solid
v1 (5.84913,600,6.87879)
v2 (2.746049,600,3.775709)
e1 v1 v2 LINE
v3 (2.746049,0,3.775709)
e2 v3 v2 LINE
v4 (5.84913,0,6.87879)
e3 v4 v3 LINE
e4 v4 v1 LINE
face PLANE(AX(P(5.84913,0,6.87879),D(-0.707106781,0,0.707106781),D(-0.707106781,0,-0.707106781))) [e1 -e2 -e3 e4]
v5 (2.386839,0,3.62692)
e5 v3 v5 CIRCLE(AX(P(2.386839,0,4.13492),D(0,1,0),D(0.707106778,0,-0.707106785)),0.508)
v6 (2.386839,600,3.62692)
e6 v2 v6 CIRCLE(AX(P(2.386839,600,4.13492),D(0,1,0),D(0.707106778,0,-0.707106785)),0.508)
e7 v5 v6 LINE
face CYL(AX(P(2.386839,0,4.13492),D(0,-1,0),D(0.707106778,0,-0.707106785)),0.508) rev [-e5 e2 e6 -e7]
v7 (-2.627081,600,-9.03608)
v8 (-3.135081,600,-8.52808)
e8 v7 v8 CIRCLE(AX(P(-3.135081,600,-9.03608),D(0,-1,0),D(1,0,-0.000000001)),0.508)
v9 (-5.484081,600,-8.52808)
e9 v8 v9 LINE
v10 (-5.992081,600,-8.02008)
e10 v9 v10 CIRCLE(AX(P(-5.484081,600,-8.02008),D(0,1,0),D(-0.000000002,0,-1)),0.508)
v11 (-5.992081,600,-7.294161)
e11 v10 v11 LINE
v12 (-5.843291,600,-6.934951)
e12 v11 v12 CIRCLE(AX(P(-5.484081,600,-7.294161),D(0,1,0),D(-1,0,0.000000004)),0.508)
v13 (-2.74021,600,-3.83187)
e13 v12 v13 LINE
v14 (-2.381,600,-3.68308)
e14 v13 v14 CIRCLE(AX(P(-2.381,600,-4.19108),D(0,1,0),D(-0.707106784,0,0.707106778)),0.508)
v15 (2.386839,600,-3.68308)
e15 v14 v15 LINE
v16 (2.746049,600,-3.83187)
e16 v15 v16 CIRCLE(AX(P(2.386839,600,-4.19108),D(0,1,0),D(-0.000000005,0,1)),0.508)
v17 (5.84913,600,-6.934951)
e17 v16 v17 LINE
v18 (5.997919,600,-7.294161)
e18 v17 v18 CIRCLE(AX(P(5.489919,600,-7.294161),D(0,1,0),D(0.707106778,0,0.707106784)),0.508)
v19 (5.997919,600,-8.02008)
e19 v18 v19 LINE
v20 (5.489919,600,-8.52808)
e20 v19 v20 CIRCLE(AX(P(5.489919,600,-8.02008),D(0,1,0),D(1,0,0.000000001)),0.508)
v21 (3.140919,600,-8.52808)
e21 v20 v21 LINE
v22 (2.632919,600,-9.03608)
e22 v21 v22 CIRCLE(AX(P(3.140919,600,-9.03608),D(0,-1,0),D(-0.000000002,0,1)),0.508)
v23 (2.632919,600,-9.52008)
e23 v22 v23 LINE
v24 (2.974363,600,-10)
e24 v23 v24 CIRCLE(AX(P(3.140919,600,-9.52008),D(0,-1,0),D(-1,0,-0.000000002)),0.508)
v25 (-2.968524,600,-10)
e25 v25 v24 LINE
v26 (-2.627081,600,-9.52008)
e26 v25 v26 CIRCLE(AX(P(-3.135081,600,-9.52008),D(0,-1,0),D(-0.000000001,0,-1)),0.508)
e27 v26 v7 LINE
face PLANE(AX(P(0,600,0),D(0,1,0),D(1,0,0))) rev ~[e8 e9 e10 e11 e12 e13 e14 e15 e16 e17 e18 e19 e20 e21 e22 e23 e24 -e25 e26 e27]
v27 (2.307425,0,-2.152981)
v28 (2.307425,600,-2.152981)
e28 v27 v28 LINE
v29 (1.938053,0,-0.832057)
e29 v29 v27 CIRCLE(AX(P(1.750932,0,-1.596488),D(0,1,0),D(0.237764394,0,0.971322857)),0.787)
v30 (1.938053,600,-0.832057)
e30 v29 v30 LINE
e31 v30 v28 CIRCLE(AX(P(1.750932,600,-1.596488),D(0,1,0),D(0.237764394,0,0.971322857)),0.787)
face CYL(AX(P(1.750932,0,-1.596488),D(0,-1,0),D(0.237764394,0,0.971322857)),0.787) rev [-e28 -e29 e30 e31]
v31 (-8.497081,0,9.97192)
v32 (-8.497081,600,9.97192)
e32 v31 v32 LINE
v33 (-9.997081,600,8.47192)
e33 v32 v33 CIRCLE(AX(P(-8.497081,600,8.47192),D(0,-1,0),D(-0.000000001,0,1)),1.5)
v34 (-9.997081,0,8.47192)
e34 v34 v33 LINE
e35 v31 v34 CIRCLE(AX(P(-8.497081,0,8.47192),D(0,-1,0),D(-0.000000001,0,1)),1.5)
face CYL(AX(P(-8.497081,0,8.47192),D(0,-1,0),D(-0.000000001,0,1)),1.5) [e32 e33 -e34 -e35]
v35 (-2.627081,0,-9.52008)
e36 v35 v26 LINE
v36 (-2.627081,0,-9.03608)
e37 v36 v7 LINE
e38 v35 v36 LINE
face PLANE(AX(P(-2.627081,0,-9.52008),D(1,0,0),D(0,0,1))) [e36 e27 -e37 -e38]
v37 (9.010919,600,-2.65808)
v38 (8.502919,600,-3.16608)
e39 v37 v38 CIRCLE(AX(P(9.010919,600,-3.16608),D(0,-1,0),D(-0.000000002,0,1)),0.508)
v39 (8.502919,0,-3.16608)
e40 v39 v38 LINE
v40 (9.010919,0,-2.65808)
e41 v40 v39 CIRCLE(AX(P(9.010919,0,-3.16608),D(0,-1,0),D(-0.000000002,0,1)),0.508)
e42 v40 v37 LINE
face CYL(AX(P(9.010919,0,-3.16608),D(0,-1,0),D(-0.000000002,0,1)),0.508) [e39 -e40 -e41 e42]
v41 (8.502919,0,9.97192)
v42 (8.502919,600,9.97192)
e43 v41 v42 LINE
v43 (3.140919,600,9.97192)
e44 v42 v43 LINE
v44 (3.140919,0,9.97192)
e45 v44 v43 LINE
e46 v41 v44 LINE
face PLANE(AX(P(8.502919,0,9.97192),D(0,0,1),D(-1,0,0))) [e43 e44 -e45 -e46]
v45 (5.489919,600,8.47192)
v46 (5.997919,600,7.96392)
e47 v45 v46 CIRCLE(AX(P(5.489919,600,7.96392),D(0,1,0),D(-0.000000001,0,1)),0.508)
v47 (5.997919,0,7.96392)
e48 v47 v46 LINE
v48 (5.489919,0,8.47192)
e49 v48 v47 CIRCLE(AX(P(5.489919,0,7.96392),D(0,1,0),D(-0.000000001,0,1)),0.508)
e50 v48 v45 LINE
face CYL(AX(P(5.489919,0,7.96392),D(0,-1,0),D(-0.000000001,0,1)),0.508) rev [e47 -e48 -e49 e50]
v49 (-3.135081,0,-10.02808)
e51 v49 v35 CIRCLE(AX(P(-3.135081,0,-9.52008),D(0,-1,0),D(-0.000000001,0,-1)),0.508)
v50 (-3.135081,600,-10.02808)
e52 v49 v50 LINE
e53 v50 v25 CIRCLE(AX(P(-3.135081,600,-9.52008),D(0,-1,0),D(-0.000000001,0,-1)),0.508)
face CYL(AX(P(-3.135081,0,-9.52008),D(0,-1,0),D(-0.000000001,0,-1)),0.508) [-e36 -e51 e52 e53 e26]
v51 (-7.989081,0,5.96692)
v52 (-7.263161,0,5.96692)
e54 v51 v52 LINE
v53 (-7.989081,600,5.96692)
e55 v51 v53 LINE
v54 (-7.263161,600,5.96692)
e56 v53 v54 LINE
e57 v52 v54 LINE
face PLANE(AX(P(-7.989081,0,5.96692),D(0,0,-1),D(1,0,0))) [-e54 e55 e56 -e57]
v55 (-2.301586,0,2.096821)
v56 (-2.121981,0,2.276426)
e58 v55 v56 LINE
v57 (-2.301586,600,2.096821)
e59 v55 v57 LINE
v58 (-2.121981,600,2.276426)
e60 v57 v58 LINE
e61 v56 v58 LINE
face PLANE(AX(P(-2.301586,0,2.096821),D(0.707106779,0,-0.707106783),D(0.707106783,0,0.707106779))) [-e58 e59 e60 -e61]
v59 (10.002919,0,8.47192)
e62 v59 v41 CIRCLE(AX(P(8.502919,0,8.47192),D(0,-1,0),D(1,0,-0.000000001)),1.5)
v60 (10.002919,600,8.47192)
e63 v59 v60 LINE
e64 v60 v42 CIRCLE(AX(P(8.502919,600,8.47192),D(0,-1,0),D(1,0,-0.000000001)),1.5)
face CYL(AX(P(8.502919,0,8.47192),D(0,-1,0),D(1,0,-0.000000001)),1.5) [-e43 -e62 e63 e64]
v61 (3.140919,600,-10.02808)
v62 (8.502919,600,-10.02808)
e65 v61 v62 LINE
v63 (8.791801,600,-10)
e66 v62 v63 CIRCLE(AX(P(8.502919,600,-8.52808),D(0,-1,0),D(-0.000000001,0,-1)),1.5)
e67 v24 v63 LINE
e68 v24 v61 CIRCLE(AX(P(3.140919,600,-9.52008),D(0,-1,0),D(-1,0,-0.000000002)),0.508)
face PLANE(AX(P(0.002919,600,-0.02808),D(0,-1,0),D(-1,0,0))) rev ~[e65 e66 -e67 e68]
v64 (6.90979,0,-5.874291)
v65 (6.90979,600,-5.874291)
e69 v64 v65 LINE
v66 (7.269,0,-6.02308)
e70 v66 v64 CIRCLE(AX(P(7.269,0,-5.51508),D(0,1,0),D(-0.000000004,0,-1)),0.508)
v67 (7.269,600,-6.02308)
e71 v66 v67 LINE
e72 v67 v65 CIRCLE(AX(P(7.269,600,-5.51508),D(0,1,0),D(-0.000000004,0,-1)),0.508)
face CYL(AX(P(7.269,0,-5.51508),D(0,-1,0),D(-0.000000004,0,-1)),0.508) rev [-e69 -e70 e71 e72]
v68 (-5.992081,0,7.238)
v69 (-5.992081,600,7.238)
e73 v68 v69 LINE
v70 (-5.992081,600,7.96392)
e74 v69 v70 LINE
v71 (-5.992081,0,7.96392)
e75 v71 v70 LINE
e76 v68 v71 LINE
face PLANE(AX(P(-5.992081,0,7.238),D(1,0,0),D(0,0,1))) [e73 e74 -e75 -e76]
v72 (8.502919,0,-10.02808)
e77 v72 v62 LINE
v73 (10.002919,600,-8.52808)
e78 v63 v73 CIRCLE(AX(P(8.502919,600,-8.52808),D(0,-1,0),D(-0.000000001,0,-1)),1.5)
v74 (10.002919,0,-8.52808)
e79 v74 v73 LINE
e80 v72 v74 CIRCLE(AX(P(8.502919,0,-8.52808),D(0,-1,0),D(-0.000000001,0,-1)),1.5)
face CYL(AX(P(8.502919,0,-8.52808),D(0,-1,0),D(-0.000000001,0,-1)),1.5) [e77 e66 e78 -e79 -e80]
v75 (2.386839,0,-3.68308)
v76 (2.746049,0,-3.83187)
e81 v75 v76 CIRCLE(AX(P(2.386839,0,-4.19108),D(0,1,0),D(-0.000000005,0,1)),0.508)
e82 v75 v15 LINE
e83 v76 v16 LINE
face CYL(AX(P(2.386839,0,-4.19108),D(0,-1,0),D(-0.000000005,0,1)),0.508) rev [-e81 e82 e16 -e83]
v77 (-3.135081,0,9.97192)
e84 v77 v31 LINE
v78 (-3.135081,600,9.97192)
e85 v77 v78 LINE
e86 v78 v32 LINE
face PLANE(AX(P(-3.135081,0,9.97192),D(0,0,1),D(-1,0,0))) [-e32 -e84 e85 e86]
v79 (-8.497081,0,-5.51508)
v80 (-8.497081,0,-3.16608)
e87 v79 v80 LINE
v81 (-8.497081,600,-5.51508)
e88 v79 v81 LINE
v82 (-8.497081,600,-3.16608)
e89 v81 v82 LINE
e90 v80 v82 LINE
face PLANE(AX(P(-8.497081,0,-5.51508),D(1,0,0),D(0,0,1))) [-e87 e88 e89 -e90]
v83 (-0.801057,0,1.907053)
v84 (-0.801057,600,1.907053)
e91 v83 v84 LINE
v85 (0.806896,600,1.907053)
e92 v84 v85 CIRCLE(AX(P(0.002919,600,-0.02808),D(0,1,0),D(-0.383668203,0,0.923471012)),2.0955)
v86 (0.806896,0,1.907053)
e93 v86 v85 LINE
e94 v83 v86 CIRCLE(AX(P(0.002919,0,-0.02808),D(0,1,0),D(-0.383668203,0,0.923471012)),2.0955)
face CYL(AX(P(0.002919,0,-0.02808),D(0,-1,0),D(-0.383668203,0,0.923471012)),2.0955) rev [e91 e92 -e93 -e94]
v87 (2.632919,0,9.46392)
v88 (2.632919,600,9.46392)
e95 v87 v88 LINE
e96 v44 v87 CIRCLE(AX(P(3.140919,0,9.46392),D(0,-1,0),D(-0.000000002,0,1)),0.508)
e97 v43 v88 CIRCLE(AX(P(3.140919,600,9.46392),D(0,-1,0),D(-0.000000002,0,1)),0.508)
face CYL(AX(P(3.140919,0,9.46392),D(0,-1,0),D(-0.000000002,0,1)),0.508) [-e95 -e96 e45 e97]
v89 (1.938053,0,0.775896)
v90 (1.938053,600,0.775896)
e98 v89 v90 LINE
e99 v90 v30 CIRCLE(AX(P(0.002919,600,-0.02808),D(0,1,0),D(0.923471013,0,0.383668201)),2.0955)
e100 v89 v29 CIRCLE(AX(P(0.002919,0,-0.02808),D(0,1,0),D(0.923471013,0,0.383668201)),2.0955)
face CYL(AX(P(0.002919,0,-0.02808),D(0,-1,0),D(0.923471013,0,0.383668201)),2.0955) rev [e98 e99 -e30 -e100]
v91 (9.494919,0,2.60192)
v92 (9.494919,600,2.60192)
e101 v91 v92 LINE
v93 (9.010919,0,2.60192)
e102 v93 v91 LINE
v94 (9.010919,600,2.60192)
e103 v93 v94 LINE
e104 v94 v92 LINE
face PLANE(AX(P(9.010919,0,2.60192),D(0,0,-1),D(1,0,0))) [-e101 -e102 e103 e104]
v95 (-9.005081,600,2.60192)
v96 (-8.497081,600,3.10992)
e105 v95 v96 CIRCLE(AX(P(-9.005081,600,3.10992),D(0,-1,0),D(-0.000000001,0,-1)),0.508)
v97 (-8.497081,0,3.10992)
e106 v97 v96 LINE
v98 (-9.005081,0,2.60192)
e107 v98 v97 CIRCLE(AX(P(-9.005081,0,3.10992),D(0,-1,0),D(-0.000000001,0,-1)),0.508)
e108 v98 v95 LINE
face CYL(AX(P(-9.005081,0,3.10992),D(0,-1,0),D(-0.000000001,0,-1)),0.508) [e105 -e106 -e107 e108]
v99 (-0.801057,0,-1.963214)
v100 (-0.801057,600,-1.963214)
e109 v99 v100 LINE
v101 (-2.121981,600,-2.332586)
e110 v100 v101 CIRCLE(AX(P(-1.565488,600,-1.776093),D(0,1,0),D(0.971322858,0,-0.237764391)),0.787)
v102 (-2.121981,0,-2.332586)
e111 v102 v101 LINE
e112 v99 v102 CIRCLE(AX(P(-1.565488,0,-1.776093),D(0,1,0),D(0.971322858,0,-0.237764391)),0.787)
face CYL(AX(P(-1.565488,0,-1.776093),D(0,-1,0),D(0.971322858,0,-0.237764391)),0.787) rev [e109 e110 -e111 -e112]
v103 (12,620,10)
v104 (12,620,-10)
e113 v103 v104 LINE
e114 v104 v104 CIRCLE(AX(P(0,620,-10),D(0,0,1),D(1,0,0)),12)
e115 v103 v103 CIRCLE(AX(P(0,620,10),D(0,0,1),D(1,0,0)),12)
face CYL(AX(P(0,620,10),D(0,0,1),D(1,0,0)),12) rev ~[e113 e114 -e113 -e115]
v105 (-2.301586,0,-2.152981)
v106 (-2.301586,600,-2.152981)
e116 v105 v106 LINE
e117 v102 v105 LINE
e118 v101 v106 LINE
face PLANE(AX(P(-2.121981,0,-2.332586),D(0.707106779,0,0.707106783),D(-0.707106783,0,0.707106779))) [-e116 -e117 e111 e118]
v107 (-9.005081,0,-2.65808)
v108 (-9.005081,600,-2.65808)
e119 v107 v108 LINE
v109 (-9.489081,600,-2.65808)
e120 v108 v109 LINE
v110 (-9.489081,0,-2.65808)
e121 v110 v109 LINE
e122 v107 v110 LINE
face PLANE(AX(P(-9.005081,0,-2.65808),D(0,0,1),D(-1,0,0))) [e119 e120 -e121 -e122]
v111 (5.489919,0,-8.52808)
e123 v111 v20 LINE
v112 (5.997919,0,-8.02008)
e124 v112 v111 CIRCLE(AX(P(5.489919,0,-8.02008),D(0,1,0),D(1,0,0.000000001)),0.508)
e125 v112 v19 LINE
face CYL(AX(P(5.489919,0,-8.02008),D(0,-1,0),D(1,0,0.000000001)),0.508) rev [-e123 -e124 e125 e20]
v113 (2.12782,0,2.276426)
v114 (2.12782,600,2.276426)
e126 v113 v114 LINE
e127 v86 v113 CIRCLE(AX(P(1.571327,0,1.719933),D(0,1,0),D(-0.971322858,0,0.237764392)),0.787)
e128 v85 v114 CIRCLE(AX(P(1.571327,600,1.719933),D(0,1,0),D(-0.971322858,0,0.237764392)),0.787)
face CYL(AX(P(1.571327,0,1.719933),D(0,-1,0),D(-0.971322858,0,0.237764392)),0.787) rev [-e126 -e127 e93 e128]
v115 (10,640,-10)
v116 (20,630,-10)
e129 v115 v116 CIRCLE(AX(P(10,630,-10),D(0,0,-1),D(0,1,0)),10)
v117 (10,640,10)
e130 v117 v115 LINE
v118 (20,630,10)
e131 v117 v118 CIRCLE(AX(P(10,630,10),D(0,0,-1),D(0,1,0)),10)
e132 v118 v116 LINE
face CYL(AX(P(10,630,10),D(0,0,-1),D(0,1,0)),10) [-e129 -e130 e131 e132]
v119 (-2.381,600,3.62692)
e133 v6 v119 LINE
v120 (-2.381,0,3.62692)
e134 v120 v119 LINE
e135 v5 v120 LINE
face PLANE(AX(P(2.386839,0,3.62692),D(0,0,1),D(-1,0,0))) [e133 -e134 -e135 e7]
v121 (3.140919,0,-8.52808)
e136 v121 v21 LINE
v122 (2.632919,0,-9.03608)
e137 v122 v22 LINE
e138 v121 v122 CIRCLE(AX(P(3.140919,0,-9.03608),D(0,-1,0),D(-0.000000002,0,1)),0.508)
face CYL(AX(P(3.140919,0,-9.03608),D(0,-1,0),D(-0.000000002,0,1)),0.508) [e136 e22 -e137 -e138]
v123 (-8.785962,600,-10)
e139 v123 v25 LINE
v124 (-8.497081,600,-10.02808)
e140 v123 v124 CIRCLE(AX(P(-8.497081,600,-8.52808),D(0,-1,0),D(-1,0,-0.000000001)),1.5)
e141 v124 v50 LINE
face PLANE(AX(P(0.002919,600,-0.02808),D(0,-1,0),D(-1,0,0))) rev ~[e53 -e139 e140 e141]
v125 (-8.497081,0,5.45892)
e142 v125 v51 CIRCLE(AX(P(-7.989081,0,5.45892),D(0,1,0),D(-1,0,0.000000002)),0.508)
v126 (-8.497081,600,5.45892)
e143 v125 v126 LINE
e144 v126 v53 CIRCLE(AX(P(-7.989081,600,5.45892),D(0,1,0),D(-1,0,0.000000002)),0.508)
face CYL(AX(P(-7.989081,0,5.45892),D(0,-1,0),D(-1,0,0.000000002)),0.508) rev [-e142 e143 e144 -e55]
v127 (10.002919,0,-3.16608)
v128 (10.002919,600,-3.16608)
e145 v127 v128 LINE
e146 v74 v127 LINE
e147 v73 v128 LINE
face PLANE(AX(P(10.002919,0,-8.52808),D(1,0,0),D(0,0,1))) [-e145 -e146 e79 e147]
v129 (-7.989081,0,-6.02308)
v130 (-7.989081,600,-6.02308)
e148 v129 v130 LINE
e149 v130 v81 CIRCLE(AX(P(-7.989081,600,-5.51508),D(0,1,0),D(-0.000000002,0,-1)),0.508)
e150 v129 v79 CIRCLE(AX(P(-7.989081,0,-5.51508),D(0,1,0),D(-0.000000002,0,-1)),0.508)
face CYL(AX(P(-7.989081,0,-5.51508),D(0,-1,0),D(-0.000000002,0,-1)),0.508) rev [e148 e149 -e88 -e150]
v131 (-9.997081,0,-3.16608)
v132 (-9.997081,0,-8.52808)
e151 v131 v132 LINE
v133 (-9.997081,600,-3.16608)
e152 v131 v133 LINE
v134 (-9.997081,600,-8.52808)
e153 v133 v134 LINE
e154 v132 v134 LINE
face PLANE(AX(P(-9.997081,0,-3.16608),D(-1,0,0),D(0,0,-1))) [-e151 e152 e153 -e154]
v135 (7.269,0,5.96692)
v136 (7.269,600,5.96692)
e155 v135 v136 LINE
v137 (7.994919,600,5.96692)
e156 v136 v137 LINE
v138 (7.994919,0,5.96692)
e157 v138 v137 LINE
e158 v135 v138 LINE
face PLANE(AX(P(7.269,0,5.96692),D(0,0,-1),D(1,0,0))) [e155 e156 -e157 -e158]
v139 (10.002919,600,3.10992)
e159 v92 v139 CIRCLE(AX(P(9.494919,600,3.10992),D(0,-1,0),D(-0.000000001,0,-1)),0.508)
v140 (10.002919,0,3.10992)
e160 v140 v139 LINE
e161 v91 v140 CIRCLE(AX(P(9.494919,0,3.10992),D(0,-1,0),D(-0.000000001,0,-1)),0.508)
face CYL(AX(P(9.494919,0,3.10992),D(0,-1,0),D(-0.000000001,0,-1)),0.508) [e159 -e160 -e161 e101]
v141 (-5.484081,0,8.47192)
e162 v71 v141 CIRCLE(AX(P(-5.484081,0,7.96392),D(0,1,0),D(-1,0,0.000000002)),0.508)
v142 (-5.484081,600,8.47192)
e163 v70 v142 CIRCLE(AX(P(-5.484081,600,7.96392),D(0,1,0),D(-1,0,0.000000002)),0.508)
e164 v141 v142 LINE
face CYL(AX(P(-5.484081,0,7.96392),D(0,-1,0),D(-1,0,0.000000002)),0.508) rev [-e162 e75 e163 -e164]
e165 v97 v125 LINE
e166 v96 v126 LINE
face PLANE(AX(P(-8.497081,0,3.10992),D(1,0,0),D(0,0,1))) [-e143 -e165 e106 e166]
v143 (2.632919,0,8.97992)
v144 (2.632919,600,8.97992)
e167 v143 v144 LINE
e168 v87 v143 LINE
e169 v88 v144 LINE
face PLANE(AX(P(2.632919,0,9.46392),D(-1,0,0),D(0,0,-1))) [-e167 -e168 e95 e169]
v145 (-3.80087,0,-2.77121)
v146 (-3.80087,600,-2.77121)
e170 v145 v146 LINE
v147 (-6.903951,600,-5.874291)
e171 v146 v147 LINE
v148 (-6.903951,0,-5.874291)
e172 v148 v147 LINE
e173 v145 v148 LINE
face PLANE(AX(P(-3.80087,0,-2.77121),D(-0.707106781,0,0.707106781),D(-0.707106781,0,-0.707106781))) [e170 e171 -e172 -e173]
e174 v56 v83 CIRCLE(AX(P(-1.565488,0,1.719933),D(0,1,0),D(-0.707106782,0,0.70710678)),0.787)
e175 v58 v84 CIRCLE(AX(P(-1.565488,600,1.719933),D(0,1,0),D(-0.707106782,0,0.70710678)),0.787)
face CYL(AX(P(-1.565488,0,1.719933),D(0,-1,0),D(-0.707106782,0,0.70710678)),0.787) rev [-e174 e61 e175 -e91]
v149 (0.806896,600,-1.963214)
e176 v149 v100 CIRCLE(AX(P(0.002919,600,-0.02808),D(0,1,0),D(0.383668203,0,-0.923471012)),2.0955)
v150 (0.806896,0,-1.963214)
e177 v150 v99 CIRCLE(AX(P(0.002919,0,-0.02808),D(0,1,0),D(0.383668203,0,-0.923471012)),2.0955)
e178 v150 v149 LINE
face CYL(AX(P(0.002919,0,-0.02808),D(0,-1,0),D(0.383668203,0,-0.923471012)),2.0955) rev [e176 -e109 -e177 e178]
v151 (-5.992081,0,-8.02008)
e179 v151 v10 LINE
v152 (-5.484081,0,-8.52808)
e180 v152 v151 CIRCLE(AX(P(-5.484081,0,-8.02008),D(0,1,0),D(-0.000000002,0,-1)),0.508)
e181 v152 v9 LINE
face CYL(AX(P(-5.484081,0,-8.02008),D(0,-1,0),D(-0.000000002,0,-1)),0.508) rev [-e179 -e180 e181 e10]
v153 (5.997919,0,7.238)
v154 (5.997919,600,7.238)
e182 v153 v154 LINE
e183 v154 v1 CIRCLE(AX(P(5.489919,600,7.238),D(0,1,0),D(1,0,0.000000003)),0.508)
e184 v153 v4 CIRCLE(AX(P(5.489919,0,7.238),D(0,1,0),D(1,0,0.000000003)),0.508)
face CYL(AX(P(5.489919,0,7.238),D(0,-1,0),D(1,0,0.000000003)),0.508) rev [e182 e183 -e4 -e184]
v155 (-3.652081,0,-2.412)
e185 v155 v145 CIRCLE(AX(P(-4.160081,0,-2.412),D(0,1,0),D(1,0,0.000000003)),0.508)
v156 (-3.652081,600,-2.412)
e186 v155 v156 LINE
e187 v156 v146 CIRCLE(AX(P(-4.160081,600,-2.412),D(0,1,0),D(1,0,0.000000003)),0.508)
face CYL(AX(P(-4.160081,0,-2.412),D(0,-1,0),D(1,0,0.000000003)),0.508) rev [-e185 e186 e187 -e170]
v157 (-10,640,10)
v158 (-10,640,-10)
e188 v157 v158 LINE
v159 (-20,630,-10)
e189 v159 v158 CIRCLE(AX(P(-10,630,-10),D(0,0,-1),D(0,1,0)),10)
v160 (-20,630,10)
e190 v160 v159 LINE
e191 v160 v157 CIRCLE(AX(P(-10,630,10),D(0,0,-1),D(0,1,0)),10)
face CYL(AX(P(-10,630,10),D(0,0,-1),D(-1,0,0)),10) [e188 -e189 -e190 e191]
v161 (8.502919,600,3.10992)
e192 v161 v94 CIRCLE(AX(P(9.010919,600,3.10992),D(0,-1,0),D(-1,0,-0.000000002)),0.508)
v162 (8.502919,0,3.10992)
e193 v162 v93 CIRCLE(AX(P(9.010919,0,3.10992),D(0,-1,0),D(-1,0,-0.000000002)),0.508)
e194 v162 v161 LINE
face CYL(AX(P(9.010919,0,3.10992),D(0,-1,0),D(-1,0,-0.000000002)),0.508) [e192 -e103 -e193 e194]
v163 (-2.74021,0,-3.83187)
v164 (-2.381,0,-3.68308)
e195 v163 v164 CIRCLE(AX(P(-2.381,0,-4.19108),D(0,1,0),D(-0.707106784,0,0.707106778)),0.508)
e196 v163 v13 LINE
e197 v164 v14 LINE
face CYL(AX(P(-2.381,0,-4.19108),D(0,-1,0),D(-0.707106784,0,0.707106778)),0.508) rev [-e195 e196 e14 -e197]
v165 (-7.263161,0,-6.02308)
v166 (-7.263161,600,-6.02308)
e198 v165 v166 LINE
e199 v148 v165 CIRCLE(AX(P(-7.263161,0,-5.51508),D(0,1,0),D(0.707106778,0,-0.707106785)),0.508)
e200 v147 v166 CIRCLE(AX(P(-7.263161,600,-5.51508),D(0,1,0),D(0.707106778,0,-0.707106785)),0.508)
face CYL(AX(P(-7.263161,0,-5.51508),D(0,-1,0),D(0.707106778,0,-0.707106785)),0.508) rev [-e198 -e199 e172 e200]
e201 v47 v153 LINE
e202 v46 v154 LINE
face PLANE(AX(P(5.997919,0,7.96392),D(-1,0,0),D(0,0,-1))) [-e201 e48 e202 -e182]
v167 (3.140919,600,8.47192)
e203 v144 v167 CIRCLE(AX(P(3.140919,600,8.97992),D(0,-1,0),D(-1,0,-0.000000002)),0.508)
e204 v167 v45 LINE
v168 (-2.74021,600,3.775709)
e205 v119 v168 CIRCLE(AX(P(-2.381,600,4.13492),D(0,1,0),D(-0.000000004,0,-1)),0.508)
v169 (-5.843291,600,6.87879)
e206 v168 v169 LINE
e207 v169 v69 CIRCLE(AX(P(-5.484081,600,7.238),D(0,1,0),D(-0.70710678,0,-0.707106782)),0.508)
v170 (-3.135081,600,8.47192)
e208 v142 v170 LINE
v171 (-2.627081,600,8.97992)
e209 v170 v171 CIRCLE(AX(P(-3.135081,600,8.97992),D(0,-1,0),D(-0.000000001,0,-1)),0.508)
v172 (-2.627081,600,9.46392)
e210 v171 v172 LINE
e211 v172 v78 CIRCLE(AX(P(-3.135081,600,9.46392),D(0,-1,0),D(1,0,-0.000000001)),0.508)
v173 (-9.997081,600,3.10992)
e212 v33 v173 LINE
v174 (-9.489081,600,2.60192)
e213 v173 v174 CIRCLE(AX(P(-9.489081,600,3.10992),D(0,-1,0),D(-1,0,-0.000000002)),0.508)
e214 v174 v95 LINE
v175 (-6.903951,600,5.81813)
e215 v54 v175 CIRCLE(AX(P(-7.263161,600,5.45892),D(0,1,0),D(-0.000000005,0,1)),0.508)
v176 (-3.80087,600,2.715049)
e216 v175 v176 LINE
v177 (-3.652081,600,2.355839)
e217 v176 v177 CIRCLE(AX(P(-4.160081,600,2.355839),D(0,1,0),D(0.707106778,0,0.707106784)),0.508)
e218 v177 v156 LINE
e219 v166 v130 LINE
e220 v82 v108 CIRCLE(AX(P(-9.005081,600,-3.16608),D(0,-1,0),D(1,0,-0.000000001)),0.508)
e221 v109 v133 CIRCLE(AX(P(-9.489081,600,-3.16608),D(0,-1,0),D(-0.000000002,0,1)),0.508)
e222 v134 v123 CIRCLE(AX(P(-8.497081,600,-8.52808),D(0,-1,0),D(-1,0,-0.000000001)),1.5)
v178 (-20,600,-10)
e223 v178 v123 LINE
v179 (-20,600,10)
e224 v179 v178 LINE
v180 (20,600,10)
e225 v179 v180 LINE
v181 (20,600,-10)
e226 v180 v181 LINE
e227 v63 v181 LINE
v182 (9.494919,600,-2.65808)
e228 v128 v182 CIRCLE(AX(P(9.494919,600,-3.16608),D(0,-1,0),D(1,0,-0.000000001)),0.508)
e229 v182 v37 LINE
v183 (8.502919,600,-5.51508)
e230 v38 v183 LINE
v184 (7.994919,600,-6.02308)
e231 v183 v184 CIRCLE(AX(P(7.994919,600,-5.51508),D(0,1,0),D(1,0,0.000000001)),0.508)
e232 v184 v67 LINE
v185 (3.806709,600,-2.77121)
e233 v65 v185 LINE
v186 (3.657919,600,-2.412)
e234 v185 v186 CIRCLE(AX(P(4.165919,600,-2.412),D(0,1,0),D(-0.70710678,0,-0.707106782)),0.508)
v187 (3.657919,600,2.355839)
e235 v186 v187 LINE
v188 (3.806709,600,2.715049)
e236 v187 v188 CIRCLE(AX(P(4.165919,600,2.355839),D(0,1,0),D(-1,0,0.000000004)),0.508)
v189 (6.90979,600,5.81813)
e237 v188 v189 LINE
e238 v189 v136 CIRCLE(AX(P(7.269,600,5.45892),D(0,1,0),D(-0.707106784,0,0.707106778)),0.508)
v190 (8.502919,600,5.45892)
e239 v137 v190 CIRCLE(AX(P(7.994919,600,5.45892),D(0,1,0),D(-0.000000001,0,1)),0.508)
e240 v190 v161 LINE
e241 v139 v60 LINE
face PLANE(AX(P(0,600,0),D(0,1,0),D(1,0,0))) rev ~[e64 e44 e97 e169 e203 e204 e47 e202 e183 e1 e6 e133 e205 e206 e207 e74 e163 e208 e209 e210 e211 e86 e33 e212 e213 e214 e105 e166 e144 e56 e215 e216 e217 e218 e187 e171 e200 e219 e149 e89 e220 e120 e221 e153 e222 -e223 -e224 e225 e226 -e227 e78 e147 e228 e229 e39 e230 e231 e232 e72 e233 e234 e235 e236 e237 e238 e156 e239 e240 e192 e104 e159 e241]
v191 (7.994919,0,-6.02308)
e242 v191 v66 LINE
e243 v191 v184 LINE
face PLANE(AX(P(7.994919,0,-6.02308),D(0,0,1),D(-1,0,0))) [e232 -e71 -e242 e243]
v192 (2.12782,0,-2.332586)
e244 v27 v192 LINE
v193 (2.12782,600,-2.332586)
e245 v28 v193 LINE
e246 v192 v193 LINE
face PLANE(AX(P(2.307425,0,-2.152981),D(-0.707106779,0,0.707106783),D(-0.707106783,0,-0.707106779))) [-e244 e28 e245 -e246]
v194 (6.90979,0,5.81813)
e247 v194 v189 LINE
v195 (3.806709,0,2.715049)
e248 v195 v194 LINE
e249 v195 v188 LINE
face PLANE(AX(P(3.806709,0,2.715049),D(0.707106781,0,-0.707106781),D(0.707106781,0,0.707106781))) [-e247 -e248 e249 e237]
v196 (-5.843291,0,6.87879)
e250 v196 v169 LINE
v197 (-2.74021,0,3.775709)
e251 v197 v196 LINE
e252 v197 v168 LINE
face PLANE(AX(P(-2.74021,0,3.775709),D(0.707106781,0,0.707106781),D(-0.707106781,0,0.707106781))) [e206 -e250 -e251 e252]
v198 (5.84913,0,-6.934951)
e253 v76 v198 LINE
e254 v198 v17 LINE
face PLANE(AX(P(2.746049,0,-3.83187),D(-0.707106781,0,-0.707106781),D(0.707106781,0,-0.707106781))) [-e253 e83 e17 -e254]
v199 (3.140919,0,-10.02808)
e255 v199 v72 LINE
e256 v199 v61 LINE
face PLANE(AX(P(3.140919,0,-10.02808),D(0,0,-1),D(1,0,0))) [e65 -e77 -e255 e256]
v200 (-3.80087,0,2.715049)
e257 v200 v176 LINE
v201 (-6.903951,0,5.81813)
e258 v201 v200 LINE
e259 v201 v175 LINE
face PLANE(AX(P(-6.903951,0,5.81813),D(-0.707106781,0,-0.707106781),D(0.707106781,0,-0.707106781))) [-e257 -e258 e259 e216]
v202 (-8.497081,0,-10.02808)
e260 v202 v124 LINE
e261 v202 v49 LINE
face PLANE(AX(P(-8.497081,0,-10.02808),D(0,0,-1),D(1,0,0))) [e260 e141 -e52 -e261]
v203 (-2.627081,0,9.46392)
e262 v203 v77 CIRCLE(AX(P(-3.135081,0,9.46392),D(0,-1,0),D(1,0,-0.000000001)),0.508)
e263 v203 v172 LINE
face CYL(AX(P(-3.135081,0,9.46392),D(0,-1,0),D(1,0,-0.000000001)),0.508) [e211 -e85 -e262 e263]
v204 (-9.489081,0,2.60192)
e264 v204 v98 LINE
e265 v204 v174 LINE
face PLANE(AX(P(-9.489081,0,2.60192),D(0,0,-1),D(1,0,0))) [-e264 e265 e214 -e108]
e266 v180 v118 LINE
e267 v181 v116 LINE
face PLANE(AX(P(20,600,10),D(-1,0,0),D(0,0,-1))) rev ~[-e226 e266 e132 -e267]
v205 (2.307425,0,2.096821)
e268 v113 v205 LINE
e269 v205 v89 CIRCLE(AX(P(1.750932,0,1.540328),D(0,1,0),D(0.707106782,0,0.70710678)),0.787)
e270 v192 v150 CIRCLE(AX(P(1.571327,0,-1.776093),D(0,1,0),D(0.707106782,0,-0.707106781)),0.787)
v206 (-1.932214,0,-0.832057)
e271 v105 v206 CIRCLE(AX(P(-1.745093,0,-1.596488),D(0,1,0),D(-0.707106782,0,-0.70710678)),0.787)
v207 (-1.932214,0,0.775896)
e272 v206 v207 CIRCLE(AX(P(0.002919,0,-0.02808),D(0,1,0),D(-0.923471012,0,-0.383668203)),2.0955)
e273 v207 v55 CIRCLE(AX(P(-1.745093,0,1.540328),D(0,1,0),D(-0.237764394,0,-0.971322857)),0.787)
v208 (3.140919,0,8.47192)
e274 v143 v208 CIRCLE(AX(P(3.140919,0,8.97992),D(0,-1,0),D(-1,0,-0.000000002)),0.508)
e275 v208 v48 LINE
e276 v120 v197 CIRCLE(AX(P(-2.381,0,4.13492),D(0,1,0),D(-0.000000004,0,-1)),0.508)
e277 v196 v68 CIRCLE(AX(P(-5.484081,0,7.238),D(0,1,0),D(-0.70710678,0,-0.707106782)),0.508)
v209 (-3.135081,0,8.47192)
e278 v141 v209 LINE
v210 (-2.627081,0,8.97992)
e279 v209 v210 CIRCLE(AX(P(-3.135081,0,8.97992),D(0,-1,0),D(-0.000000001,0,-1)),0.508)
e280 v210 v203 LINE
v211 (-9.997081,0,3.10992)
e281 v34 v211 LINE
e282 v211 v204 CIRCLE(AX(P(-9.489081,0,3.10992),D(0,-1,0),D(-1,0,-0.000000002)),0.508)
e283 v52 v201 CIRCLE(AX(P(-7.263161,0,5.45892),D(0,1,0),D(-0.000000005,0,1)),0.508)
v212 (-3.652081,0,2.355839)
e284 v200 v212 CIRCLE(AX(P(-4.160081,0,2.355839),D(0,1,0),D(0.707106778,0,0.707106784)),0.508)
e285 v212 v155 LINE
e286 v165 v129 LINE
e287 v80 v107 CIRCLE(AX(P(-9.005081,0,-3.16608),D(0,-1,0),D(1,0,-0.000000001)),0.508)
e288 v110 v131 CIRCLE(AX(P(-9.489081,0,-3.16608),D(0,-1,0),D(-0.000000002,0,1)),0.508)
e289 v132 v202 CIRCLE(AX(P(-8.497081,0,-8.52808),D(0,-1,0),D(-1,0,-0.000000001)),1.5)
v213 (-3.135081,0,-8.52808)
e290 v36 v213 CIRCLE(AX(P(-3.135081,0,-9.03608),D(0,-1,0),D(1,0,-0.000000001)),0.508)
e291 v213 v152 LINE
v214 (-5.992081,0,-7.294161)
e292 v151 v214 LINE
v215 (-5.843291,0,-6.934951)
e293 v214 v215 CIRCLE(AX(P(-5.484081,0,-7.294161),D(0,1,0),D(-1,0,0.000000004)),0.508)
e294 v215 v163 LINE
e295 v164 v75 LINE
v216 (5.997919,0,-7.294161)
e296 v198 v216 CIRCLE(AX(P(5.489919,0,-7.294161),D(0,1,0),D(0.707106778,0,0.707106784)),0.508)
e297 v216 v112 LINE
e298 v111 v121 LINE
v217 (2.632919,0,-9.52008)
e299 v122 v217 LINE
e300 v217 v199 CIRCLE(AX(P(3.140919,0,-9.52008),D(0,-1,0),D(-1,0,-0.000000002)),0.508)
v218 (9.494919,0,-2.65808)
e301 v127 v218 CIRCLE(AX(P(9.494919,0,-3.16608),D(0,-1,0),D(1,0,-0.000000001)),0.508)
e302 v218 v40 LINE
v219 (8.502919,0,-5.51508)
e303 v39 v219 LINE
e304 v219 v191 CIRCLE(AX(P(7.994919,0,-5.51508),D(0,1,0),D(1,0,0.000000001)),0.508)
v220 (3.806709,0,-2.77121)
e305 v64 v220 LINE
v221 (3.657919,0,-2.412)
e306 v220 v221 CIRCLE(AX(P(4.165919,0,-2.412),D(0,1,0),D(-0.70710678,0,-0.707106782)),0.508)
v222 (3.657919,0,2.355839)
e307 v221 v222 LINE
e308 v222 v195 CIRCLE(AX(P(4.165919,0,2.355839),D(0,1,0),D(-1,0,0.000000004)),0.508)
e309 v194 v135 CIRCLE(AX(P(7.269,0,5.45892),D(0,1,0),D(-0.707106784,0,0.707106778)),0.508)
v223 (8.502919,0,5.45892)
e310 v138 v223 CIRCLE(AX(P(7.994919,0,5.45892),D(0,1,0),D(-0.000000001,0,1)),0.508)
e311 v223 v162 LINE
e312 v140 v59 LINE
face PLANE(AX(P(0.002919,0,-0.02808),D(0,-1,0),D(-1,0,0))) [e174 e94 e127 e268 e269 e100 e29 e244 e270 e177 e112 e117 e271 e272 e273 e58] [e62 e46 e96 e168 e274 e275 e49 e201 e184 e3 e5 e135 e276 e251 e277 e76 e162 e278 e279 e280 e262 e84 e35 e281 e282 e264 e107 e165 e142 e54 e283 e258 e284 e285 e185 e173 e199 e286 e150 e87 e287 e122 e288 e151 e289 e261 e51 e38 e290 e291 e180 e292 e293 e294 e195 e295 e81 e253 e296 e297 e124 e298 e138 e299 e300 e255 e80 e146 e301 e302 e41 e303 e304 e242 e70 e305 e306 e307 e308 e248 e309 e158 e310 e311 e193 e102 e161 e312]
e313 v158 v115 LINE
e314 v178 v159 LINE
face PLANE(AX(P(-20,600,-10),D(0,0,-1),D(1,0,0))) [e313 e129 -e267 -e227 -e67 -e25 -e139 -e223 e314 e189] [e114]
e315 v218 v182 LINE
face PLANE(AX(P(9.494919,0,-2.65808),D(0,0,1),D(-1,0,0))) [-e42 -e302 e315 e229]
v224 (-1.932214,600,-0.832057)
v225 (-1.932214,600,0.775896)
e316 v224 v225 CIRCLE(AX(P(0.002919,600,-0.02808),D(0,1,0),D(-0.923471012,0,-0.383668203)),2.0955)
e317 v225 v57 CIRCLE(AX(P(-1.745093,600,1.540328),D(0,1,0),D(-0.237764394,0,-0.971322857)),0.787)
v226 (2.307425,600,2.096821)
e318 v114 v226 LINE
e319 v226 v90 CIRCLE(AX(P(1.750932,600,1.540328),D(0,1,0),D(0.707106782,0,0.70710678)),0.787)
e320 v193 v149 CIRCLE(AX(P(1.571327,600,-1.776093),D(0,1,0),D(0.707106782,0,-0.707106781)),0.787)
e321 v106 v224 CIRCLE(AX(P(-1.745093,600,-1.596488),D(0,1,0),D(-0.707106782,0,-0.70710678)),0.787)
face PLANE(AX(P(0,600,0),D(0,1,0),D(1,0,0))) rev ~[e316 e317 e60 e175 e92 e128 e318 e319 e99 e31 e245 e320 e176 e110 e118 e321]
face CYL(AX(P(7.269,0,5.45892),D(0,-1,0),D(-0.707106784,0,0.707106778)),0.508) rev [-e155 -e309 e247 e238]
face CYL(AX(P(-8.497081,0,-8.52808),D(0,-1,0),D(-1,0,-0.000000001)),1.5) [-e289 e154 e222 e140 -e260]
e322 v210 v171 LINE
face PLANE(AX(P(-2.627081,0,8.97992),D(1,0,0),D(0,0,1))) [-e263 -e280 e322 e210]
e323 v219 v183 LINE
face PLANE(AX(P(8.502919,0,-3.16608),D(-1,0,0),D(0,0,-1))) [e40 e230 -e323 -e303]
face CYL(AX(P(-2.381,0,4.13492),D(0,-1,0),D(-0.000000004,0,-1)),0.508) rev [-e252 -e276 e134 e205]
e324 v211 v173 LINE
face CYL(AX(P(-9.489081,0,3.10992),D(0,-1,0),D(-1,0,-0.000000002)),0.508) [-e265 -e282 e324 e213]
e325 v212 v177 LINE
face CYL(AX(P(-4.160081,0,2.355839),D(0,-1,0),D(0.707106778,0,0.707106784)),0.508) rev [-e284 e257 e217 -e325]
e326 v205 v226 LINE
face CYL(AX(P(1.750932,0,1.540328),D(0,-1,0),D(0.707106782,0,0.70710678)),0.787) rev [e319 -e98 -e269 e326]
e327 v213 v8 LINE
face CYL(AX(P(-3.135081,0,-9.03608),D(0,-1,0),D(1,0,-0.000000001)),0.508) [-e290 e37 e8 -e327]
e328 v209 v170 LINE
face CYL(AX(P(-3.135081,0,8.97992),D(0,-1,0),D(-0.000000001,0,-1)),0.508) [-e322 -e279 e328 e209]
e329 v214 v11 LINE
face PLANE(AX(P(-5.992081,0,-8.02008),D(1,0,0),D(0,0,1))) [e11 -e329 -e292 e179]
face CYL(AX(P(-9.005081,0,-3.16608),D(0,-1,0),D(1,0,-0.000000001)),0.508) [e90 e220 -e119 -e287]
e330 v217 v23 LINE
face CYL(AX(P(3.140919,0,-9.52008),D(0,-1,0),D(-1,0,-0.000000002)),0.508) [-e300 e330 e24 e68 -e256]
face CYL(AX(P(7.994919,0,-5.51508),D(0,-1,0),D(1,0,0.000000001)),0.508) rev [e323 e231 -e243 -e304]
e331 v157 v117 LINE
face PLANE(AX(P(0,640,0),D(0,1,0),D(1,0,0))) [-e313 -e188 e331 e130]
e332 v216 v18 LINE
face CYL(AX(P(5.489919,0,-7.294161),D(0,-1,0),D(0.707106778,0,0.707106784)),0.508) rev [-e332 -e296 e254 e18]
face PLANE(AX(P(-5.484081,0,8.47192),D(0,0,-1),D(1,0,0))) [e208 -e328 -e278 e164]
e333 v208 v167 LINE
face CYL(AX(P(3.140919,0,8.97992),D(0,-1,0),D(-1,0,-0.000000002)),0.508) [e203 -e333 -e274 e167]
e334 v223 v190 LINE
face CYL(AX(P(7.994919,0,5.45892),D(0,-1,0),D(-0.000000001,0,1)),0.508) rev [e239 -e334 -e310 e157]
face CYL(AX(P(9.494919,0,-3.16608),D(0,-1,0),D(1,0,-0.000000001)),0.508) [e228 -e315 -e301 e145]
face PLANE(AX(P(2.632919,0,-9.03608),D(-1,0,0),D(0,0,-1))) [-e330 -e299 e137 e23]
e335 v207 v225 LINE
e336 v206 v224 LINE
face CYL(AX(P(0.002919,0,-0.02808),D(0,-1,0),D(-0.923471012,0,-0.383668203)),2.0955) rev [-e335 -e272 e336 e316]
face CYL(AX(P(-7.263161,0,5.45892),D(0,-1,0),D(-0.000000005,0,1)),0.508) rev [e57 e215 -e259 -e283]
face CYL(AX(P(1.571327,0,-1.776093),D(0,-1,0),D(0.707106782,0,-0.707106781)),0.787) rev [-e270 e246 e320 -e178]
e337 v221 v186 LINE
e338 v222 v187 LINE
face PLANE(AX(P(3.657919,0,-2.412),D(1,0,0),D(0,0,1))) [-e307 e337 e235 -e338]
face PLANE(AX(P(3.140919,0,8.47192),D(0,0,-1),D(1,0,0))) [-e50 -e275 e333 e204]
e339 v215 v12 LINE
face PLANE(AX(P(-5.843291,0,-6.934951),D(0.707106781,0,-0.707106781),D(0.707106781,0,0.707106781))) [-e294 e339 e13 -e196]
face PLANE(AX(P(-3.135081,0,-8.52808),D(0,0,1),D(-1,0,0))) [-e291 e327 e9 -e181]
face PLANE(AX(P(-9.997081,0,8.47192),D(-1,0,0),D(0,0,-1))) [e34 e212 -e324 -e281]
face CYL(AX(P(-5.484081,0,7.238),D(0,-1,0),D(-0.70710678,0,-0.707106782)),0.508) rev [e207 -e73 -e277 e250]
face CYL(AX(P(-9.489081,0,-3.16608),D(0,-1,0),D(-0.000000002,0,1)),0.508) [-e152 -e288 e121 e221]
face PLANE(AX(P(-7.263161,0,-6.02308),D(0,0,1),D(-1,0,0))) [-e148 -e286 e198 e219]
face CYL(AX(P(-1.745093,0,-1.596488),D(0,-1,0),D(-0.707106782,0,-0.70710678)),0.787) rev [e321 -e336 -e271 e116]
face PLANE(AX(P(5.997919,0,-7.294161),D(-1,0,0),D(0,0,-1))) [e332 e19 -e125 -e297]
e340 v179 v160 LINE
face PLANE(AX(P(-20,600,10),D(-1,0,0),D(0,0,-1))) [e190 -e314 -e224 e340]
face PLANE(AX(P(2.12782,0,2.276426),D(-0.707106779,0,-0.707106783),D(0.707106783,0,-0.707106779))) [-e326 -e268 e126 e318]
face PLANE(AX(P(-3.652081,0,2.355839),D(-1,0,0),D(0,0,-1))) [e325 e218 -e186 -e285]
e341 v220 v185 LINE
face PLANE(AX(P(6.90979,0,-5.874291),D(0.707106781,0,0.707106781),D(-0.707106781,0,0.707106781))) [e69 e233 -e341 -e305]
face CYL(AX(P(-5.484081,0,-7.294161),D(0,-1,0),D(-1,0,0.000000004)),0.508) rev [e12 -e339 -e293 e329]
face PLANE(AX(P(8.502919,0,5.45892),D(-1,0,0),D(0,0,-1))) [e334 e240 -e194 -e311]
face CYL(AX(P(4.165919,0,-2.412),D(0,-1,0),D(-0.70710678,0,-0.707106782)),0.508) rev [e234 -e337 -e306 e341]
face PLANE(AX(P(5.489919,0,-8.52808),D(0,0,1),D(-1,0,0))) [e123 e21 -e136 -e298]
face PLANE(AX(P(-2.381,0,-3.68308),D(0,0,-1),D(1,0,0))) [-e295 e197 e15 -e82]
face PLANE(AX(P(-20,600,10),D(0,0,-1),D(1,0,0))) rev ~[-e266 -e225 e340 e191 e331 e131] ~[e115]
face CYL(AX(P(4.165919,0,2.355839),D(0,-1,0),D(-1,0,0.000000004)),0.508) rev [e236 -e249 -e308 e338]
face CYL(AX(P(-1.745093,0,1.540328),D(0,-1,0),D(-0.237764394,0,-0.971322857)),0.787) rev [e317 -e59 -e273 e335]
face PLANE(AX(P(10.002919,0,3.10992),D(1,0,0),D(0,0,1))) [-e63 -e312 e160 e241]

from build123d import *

# Parameters (mm, degrees)
BOSS_EXTRUDE1_DEPTH = 600
SKETCH2_W           = 40
SKETCH2_H           = 20
BOSS_EXTRUDE2_DEPTH = 40
FILLET1_R           = 10
SKETCH3_R           = 12
CUT_EXTRUDE1_DEPTH  = 40


with BuildPart() as part:
    # Sketch1 → Boss-Extrude1 (new body)
    with BuildSketch(Plane(origin=(0, 0, 0), x_dir=(1, 0, 0), z_dir=(0, 1, 0))):
        with BuildLine():
            Line((9.494919477, 2.658080263), (9.010919477, 2.658080263))
            ThreePointArc((9.010919477, 2.658080263), (8.651709233, 2.806870018), (8.502919477, 3.166080263))
            Line((8.502919477, 3.166080263), (8.502919477, 5.515080263))
            ThreePointArc((8.502919477, 5.515080263), (8.354129722, 5.874290508), (7.994919477, 6.023080263))
            Line((7.994919477, 6.023080263), (7.269000139, 6.023080263))
            ThreePointArc((7.269000139, 6.023080263), (7.074596955, 5.984411065), (6.909789894, 5.874290508))
            Line((6.909789894, 5.874290508), (3.806709233, 2.771209846))
            ThreePointArc((3.806709233, 2.771209846), (3.696588675, 2.606402785), (3.657919477, 2.411999602))
            Line((3.657919477, 2.411999602), (3.657919477, -2.355839076))
            ThreePointArc((3.657919477, -2.355839076), (3.696588675, -2.550242259), (3.806709233, -2.71504932))
            Line((3.806709233, -2.71504932), (6.909789894, -5.818129982))
            ThreePointArc((6.909789894, -5.818129982), (7.074596955, -5.92825054), (7.269000139, -5.966919737))
            Line((7.269000139, -5.966919737), (7.994919477, -5.966919737))
            ThreePointArc((7.994919477, -5.966919737), (8.354129722, -5.818129982), (8.502919477, -5.458919737))
            Line((8.502919477, -5.458919737), (8.502919477, -3.109919737))
            ThreePointArc((8.502919477, -3.109919737), (8.651709233, -2.750709492), (9.010919477, -2.601919737))
            Line((9.010919477, -2.601919737), (9.494919477, -2.601919737))
            ThreePointArc((9.494919477, -2.601919737), (9.854129722, -2.750709492), (10.002919477, -3.109919737))
            Line((10.002919477, -3.109919737), (10.002919477, -8.471919737))
            ThreePointArc((10.002919477, -8.471919737), (9.563579649, -9.532579909), (8.502919477, -9.971919737))
            Line((8.502919477, -9.971919737), (3.140919477, -9.971919737))
            ThreePointArc((3.140919477, -9.971919737), (2.781709233, -9.823129982), (2.632919477, -9.463919737))
            Line((2.632919477, -9.463919737), (2.632919477, -8.979919737))
            ThreePointArc((2.632919477, -8.979919737), (2.781709233, -8.620709492), (3.140919477, -8.471919737))
            Line((3.140919477, -8.471919737), (5.489919477, -8.471919737))
            ThreePointArc((5.489919477, -8.471919737), (5.849129722, -8.323129982), (5.997919477, -7.963919737))
            Line((5.997919477, -7.963919737), (5.997919477, -7.238000398))
            ThreePointArc((5.997919477, -7.238000398), (5.95925028, -7.043597215), (5.849129722, -6.878790154))
            Line((5.849129722, -6.878790154), (2.746049061, -3.775709492))
            ThreePointArc((2.746049061, -3.775709492), (2.581242, -3.665588935), (2.386838816, -3.626919737))
            Line((2.386838816, -3.626919737), (-2.380999861, -3.626919737))
            ThreePointArc((-2.380999861, -3.626919737), (-2.575403045, -3.665588935), (-2.740210106, -3.775709492))
            Line((-2.740210106, -3.775709492), (-5.843290767, -6.878790154))
            ThreePointArc((-5.843290767, -6.878790154), (-5.953411325, -7.043597215), (-5.992080523, -7.238000398))
            Line((-5.992080523, -7.238000398), (-5.992080523, -7.963919737))
            ThreePointArc((-5.992080523, -7.963919737), (-5.843290767, -8.323129982), (-5.484080523, -8.471919737))
            Line((-5.484080523, -8.471919737), (-3.135080523, -8.471919737))
            ThreePointArc((-3.135080523, -8.471919737), (-2.775870278, -8.620709492), (-2.627080523, -8.979919737))
            Line((-2.627080523, -8.979919737), (-2.627080523, -9.463919737))
            ThreePointArc((-2.627080523, -9.463919737), (-2.775870278, -9.823129982), (-3.135080523, -9.971919737))
            Line((-3.135080523, -9.971919737), (-8.497080523, -9.971919737))
            ThreePointArc((-8.497080523, -9.971919737), (-9.557740694, -9.532579909), (-9.997080523, -8.471919737))
            Line((-9.997080523, -8.471919737), (-9.997080523, -3.109919737))
            ThreePointArc((-9.997080523, -3.109919737), (-9.848290767, -2.750709492), (-9.489080523, -2.601919737))
            Line((-9.489080523, -2.601919737), (-9.005080523, -2.601919737))
            ThreePointArc((-9.005080523, -2.601919737), (-8.645870278, -2.750709492), (-8.497080523, -3.109919737))
            Line((-8.497080523, -3.109919737), (-8.497080523, -5.458919737))
            ThreePointArc((-8.497080523, -5.458919737), (-8.348290767, -5.818129982), (-7.989080523, -5.966919737))
            Line((-7.989080523, -5.966919737), (-7.263161184, -5.966919737))
            ThreePointArc((-7.263161184, -5.966919737), (-7.068758, -5.92825054), (-6.903950939, -5.818129982))
            Line((-6.903950939, -5.818129982), (-3.800870278, -2.71504932))
            ThreePointArc((-3.800870278, -2.71504932), (-3.69074972, -2.550242259), (-3.652080523, -2.355839076))
            Line((-3.652080523, -2.355839076), (-3.652080523, 2.411999602))
            ThreePointArc((-3.652080523, 2.411999602), (-3.69074972, 2.606402785), (-3.800870278, 2.771209846))
            Line((-3.800870278, 2.771209846), (-6.903950939, 5.874290508))
            ThreePointArc((-6.903950939, 5.874290508), (-7.068758, 5.984411065), (-7.263161184, 6.023080263))
            Line((-7.263161184, 6.023080263), (-7.989080523, 6.023080263))
            ThreePointArc((-7.989080523, 6.023080263), (-8.348290767, 5.874290508), (-8.497080523, 5.515080263))
            Line((-8.497080523, 5.515080263), (-8.497080523, 3.166080263))
            ThreePointArc((-8.497080523, 3.166080263), (-8.645870278, 2.806870018), (-9.005080523, 2.658080263))
            Line((-9.005080523, 2.658080263), (-9.489080523, 2.658080263))
            ThreePointArc((-9.489080523, 2.658080263), (-9.848290767, 2.806870018), (-9.997080523, 3.166080263))
            Line((-9.997080523, 3.166080263), (-9.997080523, 8.528080263))
            ThreePointArc((-9.997080523, 8.528080263), (-9.557740694, 9.588740435), (-8.497080523, 10.028080263))
            Line((-8.497080523, 10.028080263), (-3.135080523, 10.028080263))
            ThreePointArc((-3.135080523, 10.028080263), (-2.775870278, 9.879290508), (-2.627080523, 9.520080263))
            Line((-2.627080523, 9.520080263), (-2.627080523, 9.036080263))
            ThreePointArc((-2.627080523, 9.036080263), (-2.775870278, 8.676870018), (-3.135080523, 8.528080263))
            Line((-3.135080523, 8.528080263), (-5.484080523, 8.528080263))
            ThreePointArc((-5.484080523, 8.528080263), (-5.843290767, 8.379290508), (-5.992080523, 8.020080263))
            Line((-5.992080523, 8.020080263), (-5.992080523, 7.294160924))
            ThreePointArc((-5.992080523, 7.294160924), (-5.953411325, 7.099757741), (-5.843290767, 6.93495068))
            Line((-5.843290767, 6.93495068), (-2.740210106, 3.831870018))
            ThreePointArc((-2.740210106, 3.831870018), (-2.575403045, 3.72174946), (-2.380999861, 3.683080263))
            Line((-2.380999861, 3.683080263), (2.386838816, 3.683080263))
            ThreePointArc((2.386838816, 3.683080263), (2.581242, 3.72174946), (2.746049061, 3.831870018))
            Line((2.746049061, 3.831870018), (5.849129722, 6.93495068))
            ThreePointArc((5.849129722, 6.93495068), (5.95925028, 7.099757741), (5.997919477, 7.294160924))
            Line((5.997919477, 7.294160924), (5.997919477, 8.020080263))
            ThreePointArc((5.997919477, 8.020080263), (5.849129722, 8.379290508), (5.489919477, 8.528080263))
            Line((5.489919477, 8.528080263), (3.140919477, 8.528080263))
            ThreePointArc((3.140919477, 8.528080263), (2.781709233, 8.676870018), (2.632919477, 9.036080263))
            Line((2.632919477, 9.036080263), (2.632919477, 9.520080263))
            ThreePointArc((2.632919477, 9.520080263), (2.781709233, 9.879290508), (3.140919477, 10.028080263))
            Line((3.140919477, 10.028080263), (8.502919477, 10.028080263))
            ThreePointArc((8.502919477, 10.028080263), (9.563579649, 9.588740435), (10.002919477, 8.528080263))
            Line((10.002919477, 8.528080263), (10.002919477, 3.166080263))
            ThreePointArc((10.002919477, 3.166080263), (9.854129722, 2.806870018), (9.494919477, 2.658080263))
        make_face()
        with BuildLine():
            Line((2.127820321, -2.276425703), (2.307425444, -2.096820581))
            ThreePointArc((2.307425444, -2.096820581), (2.508857494, -1.328387548), (1.938052984, -0.775896455))
            ThreePointArc((1.938052984, -0.775896455), (2.098419477, 0.028080263), (1.938052984, 0.832056981))
            ThreePointArc((1.938052984, 0.832056981), (2.508857494, 1.384548074), (2.307425444, 2.152981107))
            Line((2.307425444, 2.152981107), (2.127820321, 2.332586229))
            ThreePointArc((2.127820321, 2.332586229), (1.359387288, 2.53401828), (0.806896195, 1.963213769))
            ThreePointArc((0.806896195, 1.963213769), (0.002919477, 2.123580263), (-0.801057241, 1.963213769))
            ThreePointArc((-0.801057241, 1.963213769), (-1.353548333, 2.53401828), (-2.121981366, 2.332586229))
            Line((-2.121981366, 2.332586229), (-2.301586489, 2.152981107))
            ThreePointArc((-2.301586489, 2.152981107), (-2.503018539, 1.384548074), (-1.932214029, 0.832056981))
            ThreePointArc((-1.932214029, 0.832056981), (-2.092580523, 0.028080263), (-1.932214029, -0.775896455))
            ThreePointArc((-1.932214029, -0.775896455), (-2.503018539, -1.328387548), (-2.301586489, -2.096820581))
            Line((-2.301586489, -2.096820581), (-2.121981366, -2.276425703))
            ThreePointArc((-2.121981366, -2.276425703), (-1.353548333, -2.477857754), (-0.801057241, -1.907053243))
            ThreePointArc((-0.801057241, -1.907053243), (0.002919477, -2.067419737), (0.806896195, -1.907053243))
            ThreePointArc((0.806896195, -1.907053243), (1.359387288, -2.477857754), (2.127820321, -2.276425703))
        make_face(mode=Mode.SUBTRACT)
    extrude(amount=BOSS_EXTRUDE1_DEPTH)

    # Sketch2 → Boss-Extrude2 (add)
    with BuildSketch(Plane(origin=(0, 600, 0), x_dir=(1, 0, 0), z_dir=(0, 1, 0))):
        Rectangle(SKETCH2_W, SKETCH2_H)
    extrude(amount=BOSS_EXTRUDE2_DEPTH)

    # Fillet1
    fillet1_edges = [part.edges().sort_by_distance(p)[0] for p in [
        (20, 640, 0),
        (-20, 640, 0),
    ]]
    fillet(fillet1_edges, radius=FILLET1_R)

    # Sketch3 → Cut-Extrude1 (cut)
    with BuildSketch(Plane.XY.offset(10)):
        with Locations((0, 620)):
            Circle(SKETCH3_R)
    extrude(amount=-CUT_EXTRUDE1_DEPTH, mode=Mode.SUBTRACT)


solid = part.part
